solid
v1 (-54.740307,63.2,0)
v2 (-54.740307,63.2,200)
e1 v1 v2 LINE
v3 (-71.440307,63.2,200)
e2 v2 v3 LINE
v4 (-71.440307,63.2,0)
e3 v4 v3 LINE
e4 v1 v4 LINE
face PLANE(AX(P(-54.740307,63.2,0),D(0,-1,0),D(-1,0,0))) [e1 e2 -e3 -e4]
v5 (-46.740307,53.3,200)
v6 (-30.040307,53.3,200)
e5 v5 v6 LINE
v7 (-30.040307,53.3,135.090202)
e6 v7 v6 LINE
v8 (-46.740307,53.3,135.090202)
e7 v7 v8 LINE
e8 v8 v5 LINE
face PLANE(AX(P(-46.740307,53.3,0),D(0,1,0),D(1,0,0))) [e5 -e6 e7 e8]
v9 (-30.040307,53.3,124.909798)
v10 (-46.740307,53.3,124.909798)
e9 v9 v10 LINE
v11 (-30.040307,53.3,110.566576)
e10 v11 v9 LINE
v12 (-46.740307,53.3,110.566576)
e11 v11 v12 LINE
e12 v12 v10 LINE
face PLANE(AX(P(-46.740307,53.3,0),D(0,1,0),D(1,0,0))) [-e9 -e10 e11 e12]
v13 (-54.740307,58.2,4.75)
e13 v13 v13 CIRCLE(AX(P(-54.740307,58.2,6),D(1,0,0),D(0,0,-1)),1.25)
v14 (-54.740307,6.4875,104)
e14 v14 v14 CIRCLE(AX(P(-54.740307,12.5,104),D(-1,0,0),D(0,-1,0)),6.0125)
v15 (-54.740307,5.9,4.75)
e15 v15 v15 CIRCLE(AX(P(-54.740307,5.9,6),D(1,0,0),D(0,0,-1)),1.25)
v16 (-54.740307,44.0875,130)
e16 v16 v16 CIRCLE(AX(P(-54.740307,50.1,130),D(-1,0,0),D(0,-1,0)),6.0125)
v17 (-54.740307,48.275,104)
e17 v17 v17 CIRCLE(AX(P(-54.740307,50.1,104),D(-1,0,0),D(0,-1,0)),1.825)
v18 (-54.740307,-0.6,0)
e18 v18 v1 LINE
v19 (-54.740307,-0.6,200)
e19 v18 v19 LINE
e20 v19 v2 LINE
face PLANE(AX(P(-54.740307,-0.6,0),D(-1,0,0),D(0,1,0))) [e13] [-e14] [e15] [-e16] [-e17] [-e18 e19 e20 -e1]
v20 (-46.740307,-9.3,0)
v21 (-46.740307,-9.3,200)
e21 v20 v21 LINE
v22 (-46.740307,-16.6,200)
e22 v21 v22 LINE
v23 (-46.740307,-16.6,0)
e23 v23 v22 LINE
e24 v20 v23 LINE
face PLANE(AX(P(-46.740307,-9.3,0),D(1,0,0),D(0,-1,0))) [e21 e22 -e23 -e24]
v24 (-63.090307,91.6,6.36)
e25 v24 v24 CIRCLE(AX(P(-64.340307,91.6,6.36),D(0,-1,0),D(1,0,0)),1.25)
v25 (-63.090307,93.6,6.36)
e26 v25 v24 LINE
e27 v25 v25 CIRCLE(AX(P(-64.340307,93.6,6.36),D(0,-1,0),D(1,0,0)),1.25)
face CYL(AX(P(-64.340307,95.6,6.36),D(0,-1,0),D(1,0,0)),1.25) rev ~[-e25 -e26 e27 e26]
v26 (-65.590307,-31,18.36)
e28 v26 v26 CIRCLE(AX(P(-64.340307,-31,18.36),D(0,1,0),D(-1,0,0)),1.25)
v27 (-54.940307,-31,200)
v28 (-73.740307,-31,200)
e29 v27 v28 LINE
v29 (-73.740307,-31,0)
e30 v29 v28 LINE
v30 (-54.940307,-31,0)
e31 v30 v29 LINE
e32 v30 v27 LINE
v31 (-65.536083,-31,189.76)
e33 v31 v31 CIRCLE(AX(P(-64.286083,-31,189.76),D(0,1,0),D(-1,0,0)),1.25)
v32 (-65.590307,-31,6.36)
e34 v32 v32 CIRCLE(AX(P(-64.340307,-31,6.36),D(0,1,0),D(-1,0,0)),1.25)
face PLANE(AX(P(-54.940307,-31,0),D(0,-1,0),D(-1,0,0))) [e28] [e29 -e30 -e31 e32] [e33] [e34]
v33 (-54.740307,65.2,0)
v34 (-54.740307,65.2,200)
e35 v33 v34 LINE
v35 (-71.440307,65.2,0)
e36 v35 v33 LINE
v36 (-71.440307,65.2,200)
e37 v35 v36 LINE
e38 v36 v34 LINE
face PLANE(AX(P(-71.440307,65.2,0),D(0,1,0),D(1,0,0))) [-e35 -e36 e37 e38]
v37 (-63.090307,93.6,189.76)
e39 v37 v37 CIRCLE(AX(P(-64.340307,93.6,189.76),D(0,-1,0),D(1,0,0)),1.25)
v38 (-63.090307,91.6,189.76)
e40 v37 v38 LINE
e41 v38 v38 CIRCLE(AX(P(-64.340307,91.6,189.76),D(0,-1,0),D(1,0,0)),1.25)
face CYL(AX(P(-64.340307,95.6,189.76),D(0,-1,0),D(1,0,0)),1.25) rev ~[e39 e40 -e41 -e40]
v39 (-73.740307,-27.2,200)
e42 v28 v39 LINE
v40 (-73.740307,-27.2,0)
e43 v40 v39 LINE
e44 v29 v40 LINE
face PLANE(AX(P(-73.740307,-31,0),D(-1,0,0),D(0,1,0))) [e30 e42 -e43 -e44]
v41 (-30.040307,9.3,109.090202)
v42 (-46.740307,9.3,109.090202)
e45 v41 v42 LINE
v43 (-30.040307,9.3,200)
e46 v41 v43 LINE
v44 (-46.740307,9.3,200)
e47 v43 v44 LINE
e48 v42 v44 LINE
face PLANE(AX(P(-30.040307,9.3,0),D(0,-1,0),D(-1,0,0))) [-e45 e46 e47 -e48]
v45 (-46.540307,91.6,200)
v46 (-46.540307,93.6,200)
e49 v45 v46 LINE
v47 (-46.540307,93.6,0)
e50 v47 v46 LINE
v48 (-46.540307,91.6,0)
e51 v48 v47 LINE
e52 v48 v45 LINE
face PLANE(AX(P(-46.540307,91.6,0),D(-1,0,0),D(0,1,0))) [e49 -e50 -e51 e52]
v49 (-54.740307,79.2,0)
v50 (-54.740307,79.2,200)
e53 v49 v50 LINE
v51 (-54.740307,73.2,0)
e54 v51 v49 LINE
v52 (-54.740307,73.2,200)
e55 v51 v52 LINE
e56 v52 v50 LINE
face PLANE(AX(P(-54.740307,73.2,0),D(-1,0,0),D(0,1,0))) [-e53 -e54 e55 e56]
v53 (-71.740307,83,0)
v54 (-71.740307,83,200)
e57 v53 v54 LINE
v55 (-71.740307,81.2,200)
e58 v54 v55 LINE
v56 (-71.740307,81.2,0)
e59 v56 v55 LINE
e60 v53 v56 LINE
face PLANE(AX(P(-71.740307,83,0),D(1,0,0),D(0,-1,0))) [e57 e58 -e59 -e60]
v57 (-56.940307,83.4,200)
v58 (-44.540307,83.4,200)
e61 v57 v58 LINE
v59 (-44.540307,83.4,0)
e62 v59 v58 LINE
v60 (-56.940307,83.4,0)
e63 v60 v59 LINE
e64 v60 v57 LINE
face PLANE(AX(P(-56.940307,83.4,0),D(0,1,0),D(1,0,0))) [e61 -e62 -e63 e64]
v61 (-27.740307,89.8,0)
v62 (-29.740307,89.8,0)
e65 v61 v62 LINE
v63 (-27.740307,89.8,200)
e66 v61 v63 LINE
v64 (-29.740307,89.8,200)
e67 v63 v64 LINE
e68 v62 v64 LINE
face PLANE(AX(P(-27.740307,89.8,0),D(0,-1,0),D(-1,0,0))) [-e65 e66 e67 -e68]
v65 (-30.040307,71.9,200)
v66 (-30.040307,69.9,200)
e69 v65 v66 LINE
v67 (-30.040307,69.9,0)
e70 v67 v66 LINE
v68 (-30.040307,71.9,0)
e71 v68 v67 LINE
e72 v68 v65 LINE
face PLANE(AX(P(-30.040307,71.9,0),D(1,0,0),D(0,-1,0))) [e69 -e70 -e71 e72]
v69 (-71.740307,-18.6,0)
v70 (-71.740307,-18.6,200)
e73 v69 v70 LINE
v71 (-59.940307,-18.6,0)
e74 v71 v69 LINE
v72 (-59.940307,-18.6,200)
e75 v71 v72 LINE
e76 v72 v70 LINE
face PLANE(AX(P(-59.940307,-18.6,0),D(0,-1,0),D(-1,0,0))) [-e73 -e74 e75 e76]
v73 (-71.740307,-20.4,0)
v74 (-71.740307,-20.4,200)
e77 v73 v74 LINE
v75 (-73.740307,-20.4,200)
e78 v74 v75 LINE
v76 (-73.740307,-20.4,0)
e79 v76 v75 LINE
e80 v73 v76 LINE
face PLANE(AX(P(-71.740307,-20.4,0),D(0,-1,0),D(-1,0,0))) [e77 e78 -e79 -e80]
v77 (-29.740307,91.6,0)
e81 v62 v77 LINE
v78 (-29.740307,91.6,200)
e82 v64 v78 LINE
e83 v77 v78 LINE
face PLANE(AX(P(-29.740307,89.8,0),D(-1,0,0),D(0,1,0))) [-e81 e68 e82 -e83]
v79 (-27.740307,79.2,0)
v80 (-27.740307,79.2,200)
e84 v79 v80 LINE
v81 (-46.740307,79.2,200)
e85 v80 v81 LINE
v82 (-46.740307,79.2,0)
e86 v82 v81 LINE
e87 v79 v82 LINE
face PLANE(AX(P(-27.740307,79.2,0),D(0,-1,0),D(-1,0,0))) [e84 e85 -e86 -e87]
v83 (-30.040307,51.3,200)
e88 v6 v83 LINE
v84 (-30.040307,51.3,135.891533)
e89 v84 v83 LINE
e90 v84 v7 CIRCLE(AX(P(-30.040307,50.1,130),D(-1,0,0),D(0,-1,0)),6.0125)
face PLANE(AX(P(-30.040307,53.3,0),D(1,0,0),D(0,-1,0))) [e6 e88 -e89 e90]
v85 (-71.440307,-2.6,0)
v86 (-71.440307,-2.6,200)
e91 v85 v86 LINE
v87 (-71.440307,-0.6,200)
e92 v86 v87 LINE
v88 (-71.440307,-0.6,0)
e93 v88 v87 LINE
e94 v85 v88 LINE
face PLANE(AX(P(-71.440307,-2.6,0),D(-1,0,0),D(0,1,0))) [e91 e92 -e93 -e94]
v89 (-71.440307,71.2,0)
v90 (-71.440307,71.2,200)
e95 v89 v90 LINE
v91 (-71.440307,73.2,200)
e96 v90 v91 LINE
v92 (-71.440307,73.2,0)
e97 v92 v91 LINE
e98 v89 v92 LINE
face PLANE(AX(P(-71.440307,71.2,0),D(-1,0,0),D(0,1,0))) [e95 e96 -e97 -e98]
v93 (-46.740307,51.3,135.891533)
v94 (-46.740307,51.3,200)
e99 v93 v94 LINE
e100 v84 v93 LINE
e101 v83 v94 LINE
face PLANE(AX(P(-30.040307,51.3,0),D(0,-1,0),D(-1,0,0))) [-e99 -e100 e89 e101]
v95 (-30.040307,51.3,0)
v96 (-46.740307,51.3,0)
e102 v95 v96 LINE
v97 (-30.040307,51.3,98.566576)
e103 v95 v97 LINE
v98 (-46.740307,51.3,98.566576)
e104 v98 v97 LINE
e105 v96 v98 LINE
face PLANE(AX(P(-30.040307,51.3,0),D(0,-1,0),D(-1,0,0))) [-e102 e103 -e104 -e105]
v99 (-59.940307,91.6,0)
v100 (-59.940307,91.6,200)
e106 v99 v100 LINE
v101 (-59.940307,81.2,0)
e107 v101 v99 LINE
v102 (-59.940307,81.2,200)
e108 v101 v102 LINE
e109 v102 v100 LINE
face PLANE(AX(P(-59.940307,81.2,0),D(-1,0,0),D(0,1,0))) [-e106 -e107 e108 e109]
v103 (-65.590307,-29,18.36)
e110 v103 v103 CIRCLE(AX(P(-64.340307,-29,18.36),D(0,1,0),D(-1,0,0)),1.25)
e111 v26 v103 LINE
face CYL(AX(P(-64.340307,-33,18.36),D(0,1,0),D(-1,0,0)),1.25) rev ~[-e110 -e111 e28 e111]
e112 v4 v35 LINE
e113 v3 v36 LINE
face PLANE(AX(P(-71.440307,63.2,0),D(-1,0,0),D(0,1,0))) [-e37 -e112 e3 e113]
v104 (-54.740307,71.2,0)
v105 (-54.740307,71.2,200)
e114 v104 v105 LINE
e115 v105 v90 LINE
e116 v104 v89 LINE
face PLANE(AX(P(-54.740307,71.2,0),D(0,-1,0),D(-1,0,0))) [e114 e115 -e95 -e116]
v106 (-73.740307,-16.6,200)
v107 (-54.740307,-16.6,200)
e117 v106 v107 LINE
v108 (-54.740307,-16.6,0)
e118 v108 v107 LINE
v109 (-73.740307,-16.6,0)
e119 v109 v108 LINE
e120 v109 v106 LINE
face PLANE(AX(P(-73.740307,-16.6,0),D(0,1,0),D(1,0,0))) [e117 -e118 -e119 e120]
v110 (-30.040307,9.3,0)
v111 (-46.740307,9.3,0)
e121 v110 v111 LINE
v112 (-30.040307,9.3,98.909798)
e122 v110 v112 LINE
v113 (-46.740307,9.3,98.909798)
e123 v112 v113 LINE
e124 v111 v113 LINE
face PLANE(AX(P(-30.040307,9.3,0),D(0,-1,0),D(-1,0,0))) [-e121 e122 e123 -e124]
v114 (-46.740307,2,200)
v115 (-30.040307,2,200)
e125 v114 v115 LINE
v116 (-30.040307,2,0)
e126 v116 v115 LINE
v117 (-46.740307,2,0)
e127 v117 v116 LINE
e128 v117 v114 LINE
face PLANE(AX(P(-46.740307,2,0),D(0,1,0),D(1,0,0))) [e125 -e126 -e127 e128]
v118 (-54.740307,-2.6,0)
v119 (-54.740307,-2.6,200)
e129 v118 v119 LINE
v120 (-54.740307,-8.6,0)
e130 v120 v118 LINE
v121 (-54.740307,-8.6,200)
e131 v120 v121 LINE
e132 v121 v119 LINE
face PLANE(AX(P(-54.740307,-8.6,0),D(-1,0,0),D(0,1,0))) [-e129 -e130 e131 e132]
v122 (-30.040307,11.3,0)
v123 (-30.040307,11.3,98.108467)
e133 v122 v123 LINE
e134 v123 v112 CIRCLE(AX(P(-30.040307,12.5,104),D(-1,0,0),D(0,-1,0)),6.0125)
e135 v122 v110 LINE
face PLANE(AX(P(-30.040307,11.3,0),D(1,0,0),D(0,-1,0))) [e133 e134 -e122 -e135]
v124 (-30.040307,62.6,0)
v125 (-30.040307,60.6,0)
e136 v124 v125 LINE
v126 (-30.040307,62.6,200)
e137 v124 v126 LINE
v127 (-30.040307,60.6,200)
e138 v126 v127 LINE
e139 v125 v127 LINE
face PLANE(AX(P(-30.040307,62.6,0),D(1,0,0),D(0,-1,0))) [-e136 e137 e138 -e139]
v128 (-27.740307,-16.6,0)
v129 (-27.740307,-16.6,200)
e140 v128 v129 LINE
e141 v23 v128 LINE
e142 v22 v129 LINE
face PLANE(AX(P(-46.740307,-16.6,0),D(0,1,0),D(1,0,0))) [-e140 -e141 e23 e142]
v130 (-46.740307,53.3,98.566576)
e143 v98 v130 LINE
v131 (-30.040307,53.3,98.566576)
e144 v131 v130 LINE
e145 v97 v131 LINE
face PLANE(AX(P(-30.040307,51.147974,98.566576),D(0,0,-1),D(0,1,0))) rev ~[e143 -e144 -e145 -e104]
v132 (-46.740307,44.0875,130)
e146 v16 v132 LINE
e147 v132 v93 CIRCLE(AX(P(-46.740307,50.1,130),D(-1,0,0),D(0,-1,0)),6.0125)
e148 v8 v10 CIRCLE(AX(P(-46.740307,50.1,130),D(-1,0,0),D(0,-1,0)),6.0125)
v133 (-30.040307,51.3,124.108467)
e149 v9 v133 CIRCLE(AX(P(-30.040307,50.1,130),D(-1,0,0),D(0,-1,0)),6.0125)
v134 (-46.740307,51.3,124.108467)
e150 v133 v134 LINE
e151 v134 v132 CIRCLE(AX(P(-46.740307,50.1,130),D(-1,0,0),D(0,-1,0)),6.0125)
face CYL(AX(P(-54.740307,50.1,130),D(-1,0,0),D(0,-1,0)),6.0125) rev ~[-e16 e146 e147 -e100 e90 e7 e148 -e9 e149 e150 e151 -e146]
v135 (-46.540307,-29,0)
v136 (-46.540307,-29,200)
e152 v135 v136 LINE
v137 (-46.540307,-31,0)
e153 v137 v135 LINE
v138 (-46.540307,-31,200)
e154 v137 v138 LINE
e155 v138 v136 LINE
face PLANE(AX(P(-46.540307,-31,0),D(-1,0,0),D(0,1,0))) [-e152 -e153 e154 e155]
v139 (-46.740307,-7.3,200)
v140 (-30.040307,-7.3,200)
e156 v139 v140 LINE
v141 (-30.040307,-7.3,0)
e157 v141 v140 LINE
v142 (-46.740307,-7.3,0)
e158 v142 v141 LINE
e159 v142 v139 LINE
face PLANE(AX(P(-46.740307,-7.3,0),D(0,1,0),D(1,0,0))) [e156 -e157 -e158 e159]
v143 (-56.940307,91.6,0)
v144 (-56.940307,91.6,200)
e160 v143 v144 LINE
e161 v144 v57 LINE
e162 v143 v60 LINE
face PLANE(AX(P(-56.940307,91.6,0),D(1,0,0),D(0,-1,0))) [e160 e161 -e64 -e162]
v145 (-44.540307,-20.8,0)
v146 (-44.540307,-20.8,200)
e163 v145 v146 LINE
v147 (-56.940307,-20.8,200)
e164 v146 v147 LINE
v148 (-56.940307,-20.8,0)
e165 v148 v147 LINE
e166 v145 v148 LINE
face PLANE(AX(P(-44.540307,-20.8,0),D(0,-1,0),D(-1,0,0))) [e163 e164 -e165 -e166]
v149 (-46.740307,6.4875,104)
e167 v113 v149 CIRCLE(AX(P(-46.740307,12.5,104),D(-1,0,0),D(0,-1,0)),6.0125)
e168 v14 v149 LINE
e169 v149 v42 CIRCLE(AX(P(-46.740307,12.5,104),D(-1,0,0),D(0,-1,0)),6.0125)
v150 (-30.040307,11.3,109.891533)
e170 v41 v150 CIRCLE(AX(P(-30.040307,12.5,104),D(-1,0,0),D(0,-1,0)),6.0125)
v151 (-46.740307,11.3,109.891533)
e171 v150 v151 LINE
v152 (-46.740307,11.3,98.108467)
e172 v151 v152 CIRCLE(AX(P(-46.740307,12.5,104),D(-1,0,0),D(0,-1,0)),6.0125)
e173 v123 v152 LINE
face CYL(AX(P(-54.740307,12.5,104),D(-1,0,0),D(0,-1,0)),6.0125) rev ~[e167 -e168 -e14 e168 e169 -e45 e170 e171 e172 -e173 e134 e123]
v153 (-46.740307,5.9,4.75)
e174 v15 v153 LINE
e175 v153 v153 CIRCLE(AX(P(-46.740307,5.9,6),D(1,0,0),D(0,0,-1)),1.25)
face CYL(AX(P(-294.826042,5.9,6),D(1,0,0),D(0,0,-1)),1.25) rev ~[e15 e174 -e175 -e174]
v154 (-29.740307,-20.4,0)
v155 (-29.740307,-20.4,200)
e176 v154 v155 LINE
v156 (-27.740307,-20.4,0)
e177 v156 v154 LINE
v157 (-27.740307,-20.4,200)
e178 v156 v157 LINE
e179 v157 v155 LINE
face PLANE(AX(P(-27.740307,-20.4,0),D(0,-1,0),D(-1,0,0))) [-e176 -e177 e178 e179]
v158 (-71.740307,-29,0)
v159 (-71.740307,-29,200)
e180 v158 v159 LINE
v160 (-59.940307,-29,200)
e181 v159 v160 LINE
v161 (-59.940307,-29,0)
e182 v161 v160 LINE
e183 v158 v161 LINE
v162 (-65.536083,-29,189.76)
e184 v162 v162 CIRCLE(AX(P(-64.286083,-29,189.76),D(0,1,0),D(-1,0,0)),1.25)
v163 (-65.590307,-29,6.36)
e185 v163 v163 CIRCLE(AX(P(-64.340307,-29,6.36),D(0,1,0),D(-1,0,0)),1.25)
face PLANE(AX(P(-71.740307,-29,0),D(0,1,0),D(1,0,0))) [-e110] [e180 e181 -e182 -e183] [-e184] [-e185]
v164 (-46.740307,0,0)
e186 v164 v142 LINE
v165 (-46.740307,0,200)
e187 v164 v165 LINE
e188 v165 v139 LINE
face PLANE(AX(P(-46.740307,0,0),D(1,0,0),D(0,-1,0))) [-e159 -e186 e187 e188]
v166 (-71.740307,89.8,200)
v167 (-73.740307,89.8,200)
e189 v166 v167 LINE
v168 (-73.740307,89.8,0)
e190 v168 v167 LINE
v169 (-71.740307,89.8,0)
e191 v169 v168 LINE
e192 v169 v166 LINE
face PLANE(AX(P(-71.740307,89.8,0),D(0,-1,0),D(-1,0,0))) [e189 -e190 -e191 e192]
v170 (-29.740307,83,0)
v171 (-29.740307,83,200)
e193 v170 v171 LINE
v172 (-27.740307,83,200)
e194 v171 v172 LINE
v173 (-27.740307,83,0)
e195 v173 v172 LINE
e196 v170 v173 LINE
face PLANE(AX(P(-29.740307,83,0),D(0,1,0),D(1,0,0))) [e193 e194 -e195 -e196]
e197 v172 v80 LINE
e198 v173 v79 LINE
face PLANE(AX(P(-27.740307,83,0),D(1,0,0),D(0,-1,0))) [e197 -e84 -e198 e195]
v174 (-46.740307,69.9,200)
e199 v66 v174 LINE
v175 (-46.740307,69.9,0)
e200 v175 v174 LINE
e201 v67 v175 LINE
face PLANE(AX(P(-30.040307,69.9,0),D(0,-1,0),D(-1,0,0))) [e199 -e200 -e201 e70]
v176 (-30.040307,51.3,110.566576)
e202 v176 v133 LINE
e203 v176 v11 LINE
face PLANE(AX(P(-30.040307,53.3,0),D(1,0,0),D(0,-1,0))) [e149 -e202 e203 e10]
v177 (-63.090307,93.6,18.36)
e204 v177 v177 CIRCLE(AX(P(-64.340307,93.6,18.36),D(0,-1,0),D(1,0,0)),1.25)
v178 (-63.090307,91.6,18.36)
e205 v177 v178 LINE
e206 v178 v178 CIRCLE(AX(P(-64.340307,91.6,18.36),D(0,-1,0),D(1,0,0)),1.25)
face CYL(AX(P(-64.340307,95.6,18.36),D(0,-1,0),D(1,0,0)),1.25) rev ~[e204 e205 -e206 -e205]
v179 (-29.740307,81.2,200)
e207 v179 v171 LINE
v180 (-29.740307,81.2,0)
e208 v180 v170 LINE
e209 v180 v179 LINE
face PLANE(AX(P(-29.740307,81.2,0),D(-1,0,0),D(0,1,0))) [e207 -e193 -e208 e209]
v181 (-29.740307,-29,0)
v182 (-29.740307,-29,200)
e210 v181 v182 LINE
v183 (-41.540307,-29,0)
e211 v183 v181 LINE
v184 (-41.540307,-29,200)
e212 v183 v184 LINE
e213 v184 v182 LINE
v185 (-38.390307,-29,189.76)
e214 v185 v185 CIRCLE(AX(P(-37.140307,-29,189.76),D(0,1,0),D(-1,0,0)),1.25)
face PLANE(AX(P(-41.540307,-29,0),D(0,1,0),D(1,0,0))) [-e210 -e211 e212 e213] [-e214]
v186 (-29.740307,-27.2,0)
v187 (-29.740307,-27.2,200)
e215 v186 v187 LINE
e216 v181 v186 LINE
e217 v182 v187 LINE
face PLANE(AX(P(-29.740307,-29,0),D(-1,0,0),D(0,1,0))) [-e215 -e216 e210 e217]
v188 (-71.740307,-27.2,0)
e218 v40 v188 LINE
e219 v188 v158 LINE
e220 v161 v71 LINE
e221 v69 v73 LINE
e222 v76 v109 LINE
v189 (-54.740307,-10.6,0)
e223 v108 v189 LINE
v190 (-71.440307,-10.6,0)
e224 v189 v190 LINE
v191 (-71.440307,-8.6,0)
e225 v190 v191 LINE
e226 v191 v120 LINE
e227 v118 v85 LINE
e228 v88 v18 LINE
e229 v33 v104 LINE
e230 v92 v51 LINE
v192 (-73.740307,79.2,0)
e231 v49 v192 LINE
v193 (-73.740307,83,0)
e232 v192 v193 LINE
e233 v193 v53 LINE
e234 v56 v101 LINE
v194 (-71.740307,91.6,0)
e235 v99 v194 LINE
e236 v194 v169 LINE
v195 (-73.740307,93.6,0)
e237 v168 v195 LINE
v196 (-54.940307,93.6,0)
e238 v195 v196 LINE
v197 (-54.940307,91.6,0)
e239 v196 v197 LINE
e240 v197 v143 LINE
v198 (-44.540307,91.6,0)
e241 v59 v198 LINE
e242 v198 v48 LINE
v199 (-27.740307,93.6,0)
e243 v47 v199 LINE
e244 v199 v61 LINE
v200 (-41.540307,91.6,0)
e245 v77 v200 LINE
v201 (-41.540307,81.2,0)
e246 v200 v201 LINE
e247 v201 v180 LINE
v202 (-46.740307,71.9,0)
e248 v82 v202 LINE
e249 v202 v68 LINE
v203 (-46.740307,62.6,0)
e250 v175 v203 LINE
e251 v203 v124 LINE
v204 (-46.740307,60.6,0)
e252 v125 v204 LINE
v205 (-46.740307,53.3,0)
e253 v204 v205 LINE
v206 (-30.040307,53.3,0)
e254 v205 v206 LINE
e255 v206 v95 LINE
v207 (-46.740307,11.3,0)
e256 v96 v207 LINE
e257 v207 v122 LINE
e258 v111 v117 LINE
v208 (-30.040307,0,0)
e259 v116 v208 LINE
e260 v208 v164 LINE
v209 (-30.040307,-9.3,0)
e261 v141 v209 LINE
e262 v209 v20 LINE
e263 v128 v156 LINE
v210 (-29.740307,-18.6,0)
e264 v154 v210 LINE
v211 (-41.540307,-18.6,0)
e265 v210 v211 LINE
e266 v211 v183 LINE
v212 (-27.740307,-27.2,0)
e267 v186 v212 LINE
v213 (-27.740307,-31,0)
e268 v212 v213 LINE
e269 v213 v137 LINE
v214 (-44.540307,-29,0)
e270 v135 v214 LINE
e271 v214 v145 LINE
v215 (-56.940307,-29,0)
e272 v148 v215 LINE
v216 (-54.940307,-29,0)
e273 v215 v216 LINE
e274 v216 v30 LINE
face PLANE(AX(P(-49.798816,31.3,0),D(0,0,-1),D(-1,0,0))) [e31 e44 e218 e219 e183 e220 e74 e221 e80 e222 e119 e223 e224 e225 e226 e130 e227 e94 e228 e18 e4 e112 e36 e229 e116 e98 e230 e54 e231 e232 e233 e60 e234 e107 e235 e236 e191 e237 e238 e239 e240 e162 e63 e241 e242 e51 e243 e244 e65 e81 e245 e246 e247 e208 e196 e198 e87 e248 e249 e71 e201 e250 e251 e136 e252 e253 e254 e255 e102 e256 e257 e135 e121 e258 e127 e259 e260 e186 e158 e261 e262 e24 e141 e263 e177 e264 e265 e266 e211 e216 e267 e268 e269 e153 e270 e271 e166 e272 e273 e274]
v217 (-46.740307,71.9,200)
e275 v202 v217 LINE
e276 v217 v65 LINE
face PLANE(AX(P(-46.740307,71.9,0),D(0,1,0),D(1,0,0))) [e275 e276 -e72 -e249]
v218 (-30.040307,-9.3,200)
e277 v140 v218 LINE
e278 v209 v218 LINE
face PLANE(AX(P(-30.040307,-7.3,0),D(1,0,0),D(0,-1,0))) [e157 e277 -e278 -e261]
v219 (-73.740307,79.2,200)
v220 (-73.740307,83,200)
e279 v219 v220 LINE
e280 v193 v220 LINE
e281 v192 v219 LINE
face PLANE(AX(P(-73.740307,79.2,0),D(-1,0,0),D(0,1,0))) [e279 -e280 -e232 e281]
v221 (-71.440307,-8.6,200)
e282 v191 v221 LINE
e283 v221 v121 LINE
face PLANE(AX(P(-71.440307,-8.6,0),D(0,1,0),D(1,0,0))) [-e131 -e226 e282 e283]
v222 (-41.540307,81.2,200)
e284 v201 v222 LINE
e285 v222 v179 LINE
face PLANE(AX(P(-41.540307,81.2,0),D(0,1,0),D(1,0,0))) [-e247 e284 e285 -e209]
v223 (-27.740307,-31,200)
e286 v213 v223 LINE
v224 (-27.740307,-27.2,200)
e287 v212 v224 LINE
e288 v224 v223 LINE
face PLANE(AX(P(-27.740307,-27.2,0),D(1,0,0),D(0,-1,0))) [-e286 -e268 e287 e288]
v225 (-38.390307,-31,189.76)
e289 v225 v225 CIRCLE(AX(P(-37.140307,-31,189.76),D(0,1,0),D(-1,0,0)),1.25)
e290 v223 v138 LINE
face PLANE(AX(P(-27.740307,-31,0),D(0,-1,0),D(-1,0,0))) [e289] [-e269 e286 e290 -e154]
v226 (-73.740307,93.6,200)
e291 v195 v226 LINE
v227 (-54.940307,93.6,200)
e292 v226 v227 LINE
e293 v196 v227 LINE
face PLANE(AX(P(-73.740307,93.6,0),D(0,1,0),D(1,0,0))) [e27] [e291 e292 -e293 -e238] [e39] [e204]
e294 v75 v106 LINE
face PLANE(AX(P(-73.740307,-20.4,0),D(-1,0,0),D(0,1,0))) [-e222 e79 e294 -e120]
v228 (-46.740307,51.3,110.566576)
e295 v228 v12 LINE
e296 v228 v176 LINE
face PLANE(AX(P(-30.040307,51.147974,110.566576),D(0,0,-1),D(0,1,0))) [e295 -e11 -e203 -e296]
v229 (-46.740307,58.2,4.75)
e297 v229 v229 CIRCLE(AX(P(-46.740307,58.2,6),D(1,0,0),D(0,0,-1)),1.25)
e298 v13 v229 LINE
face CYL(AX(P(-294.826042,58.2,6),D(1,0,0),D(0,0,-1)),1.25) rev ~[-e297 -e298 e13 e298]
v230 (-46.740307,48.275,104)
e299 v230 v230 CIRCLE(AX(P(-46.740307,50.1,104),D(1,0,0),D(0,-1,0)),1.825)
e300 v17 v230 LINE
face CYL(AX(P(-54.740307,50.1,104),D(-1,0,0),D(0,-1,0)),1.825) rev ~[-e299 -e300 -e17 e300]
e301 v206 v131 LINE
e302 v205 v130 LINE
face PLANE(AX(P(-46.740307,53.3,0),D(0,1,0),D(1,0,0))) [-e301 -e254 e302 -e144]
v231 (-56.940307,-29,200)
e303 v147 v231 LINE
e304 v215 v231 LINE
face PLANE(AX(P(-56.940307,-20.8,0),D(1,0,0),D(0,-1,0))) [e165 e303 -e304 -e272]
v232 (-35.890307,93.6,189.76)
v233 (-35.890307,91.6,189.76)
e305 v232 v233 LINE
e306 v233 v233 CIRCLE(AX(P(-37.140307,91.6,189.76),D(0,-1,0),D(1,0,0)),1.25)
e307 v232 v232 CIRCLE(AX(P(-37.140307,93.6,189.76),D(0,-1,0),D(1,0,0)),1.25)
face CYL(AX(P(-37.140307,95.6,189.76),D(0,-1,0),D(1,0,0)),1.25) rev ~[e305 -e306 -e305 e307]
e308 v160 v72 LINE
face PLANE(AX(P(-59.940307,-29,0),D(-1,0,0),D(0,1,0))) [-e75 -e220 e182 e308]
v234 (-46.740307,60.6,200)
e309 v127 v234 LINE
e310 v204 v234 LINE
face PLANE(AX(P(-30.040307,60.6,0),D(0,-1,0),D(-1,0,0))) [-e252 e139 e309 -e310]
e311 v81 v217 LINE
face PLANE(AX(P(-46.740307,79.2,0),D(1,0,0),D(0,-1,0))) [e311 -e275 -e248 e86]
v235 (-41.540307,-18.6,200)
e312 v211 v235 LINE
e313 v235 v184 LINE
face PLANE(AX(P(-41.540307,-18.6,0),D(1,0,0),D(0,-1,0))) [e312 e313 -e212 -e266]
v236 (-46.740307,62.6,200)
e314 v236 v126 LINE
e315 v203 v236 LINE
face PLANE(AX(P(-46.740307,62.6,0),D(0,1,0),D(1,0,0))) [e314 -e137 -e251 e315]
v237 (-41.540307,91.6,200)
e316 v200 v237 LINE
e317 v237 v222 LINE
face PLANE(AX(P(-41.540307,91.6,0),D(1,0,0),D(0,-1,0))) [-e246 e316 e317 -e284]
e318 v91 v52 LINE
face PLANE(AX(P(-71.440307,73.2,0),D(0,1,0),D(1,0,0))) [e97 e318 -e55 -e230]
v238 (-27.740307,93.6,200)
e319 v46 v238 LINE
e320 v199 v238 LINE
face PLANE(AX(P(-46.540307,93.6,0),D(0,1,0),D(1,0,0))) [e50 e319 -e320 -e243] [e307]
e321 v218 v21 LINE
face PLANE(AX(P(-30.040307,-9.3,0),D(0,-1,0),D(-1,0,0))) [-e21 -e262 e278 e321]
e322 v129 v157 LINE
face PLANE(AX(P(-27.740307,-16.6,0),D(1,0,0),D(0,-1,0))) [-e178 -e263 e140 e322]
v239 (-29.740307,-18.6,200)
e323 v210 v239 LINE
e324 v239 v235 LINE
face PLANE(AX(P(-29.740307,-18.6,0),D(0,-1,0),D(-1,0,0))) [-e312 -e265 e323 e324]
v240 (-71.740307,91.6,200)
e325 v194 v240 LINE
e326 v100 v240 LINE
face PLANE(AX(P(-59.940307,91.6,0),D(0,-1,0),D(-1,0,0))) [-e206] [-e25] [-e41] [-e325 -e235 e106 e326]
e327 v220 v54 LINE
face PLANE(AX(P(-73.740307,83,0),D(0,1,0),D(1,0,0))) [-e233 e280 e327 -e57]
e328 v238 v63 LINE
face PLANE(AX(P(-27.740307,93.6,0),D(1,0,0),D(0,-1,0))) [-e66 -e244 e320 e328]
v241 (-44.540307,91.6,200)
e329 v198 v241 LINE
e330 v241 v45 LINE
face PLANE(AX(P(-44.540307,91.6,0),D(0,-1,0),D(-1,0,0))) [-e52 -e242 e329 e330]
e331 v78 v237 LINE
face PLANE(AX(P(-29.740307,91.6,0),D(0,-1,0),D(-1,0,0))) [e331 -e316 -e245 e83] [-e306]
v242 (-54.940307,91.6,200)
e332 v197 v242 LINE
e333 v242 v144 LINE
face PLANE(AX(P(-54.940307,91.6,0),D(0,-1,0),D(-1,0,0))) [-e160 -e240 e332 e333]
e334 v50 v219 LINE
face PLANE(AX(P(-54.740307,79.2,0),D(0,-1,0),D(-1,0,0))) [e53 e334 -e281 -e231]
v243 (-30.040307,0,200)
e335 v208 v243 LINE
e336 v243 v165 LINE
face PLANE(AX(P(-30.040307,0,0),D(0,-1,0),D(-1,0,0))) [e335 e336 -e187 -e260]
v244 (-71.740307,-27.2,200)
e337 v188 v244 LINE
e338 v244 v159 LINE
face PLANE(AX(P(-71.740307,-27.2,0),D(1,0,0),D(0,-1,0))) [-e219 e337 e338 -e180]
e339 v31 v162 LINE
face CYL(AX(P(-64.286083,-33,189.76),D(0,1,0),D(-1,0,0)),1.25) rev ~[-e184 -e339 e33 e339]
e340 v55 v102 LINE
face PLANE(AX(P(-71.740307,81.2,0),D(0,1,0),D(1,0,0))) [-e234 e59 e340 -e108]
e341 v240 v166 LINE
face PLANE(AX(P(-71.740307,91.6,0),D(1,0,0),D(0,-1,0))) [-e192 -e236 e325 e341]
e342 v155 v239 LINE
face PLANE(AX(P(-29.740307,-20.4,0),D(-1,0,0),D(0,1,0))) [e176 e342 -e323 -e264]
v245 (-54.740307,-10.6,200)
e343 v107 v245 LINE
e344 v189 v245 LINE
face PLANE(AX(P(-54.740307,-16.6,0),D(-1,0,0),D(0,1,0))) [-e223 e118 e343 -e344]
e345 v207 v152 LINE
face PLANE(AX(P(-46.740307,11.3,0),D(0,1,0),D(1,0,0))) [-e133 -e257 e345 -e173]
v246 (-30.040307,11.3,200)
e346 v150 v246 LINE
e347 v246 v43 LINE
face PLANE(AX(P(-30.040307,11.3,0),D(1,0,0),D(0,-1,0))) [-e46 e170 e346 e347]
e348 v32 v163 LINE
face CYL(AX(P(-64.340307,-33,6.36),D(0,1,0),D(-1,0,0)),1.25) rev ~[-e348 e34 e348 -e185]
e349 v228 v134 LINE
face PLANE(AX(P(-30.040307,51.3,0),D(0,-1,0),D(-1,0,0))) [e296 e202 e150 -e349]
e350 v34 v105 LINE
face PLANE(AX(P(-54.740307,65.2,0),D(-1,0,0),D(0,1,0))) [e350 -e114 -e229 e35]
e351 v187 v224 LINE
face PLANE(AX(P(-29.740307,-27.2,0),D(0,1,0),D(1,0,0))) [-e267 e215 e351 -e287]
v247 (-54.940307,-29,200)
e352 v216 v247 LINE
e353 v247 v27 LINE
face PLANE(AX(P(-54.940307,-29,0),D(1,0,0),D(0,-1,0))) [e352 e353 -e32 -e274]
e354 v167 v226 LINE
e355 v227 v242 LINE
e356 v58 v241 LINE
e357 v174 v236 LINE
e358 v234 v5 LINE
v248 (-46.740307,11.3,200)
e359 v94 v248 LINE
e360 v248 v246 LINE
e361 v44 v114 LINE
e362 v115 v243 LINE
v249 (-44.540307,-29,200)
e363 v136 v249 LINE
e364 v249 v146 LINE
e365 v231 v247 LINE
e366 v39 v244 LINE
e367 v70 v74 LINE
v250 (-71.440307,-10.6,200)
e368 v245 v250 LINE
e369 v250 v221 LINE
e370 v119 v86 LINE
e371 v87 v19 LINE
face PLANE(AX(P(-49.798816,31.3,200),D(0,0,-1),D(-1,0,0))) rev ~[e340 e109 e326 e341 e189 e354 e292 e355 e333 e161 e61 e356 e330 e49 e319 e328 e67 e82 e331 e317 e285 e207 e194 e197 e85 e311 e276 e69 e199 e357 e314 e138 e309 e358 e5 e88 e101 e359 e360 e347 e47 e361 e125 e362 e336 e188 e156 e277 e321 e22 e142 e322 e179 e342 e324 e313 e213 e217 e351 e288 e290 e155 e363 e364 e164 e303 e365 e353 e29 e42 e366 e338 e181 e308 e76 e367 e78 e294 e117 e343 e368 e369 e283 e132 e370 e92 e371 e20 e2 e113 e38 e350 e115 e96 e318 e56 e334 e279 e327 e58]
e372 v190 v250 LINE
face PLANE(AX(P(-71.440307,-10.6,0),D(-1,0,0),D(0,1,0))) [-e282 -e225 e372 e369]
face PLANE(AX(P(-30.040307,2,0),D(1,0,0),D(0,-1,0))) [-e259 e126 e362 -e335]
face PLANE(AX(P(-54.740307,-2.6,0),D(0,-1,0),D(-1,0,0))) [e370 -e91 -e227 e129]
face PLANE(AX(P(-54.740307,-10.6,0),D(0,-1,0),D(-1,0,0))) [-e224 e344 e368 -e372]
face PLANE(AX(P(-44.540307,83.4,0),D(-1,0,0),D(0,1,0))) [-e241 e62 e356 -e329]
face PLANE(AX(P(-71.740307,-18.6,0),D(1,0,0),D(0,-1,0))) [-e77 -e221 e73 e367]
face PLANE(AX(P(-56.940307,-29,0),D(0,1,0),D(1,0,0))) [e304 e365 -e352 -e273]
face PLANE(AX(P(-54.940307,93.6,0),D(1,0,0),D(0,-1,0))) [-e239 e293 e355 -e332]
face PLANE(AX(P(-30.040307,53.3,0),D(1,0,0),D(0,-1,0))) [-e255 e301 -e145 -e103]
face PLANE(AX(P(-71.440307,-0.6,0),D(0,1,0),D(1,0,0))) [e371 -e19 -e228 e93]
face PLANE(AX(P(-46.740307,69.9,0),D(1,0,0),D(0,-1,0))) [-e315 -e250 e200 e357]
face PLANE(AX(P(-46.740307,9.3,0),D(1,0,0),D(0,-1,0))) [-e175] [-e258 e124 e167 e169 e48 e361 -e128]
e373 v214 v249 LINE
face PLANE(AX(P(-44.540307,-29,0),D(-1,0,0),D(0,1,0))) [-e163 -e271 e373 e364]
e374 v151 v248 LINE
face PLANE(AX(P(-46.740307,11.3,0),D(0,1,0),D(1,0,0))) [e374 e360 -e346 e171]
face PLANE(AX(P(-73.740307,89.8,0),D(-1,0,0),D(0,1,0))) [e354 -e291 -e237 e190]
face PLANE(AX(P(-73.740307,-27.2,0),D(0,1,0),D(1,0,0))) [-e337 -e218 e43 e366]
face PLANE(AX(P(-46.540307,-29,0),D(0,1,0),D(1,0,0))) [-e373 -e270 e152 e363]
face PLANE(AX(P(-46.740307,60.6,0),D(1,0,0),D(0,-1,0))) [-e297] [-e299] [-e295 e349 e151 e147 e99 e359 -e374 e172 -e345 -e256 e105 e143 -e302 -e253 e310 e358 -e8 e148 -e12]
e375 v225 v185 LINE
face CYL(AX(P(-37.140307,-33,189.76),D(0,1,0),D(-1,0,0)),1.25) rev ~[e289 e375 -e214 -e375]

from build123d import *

# Parameters (mm, degrees)
RESSALTO_EXTRUS_O1_DEPTH                     = 200
CORTE_EXTRUS_O3_REACH                        = 224.463
ESBO_O4_R                                    = 1.825
CORTE_EXTRUS_O5_REACH                        = 224.463
ESBO_O6_R                                    = 6.0125
BROCA_DE_ROSQUEAR_PARA_TARRAXA_DE_M3X0_5_D   = 2.5
ESBO_O15_W                                   = 12
ESBO_O15_H                                   = 2.152025528
CORTE_EXTRUS_O7_DEPTH                        = 16.7
CORTE_EXTRUS_O8_REACH                        = 224.463
ESBO_O5_R                                    = 6.0125
BROCA_DE_ROSQUEAR_PARA_TARRAXA_DE_M3_2_D     = 2.5
BROCA_DE_ROSQUEAR_PARA_TARRAXA_DE_M3_2_DEPTH = 2
BROCA_DE_ROSQUEAR_PARA_TARRAXA_DE_M3_3_D     = 2.5
BROCA_DE_ROSQUEAR_PARA_TARRAXA_DE_M3_3_DEPTH = 2
BROCA_DE_ROSQUEAR_PARA_TARRAXA_DE_M3_4_D     = 2.5
BROCA_DE_ROSQUEAR_PARA_TARRAXA_DE_M3_4_DEPTH = 2
BROCA_DE_ROSQUEAR_PARA_TARRAXA_DE_M3_5_D     = 2.5
BROCA_DE_ROSQUEAR_PARA_TARRAXA_DE_M3_5_DEPTH = 2


with BuildPart() as part:
    # Esboço1 → Ressalto-extrusão1 (new body)
    with BuildSketch(Plane.XY):
        Polygon((-54.740307174, -0.6), (-54.740307174, 63.2), (-71.440307174, 63.2), (-71.440307174, 65.2), (-54.740307174, 65.2), (-54.740307174, 71.2), (-71.440307174, 71.2), (-71.440307174, 73.2), (-54.740307174, 73.2), (-54.740307174, 79.2), (-73.740307174, 79.2), (-73.740307174, 83), (-71.740307174, 83), (-71.740307174, 81.2), (-59.940307174, 81.2), (-59.940307174, 91.6), (-71.740307174, 91.6), (-71.740307174, 89.8), (-73.740307174, 89.8), (-73.740307174, 93.6), (-54.940307174, 93.6), (-54.940307174, 91.6), (-56.940307174, 91.6), (-56.940307174, 83.4), (-44.540307174, 83.4), (-44.540307174, 91.6), (-46.540307174, 91.6), (-46.540307174, 93.6), (-27.740307174, 93.6), (-27.740307174, 89.8), (-29.740307174, 89.8), (-29.740307174, 91.6), (-41.540307174, 91.6), (-41.540307174, 81.2), (-29.740307174, 81.2), (-29.740307174, 83), (-27.740307174, 83), (-27.740307174, 79.2), (-46.740307174, 79.2), (-46.740307174, 71.9), (-30.040307174, 71.9), (-30.040307174, 69.9), (-46.740307174, 69.9), (-46.740307174, 62.6), (-30.040307174, 62.6), (-30.040307174, 60.6), (-46.740307174, 60.6), (-46.740307174, 53.3), (-30.040307174, 53.3), (-30.040307174, 51.3), (-46.740307174, 51.3), (-46.740307174, 11.3), (-30.040307174, 11.3), (-30.040307174, 9.3), (-46.740307174, 9.3), (-46.740307174, 2), (-30.040307174, 2), (-30.040307174, 0), (-46.740307174, 0), (-46.740307174, -7.3), (-30.040307174, -7.3), (-30.040307174, -9.3), (-46.740307174, -9.3), (-46.740307174, -16.6), (-27.740307174, -16.6), (-27.740307174, -20.4), (-29.740307174, -20.4), (-29.740307174, -18.6), (-41.540307174, -18.6), (-41.540307174, -29), (-29.740307174, -29), (-29.740307174, -27.2), (-27.740307174, -27.2), (-27.740307174, -31), (-46.540307174, -31), (-46.540307174, -29), (-44.540307174, -29), (-44.540307174, -20.8), (-56.940307174, -20.8), (-56.940307174, -29), (-54.940307174, -29), (-54.940307174, -31), (-73.740307174, -31), (-73.740307174, -27.2), (-71.740307174, -27.2), (-71.740307174, -29), (-59.940307174, -29), (-59.940307174, -18.6), (-71.740307174, -18.6), (-71.740307174, -20.4), (-73.740307174, -20.4), (-73.740307174, -16.6), (-54.740307174, -16.6), (-54.740307174, -10.6), (-71.440307174, -10.6), (-71.440307174, -8.6), (-54.740307174, -8.6), (-54.740307174, -2.6), (-71.440307174, -2.6), (-71.440307174, -0.6), align=None)
    extrude(amount=RESSALTO_EXTRUS_O1_DEPTH)

    # Esboço4 → Corte-extrusão3 (cut, up to next)
    with BuildSketch(Plane.ZY.offset(54.740307174), mode=Mode.PRIVATE) as corte_extrus_o3_sk1:
        with Locations(Location((104, 50.1, 0), (0, 0, 270))):
            Circle(ESBO_O4_R)
    corte_extrus_o3_tool1 = extrude(corte_extrus_o3_sk1.sketch, amount=-CORTE_EXTRUS_O3_REACH, mode=Mode.PRIVATE) & part.part
    add(corte_extrus_o3_tool1.solids().sort_by_distance((-54.740307, 50.1, 104))[0], mode=Mode.SUBTRACT)

    # Esboço6 → Corte-extrusão5 (cut, up to next)
    with BuildSketch(Plane.ZY.offset(54.740307174), mode=Mode.PRIVATE) as corte_extrus_o5_sk1:
        with Locations(Location((104, 12.5, 0), (0, 0, 270))):
            Circle(ESBO_O6_R)
    corte_extrus_o5_tool1 = extrude(corte_extrus_o5_sk1.sketch, amount=-CORTE_EXTRUS_O5_REACH, mode=Mode.PRIVATE) & part.part
    add(corte_extrus_o5_tool1.solids().sort_by_distance((-54.740307, 12.5, 104))[0], mode=Mode.SUBTRACT)

    # Broca de rosquear para tarraxa de M3x0.5 (through all)
    with Locations(Plane.ZY.offset(54.740307174)):
        with Locations((6, 5.9), (6, 58.2)):
            Hole(BROCA_DE_ROSQUEAR_PARA_TARRAXA_DE_M3X0_5_D / 2)

    # Esboço15 → Corte-extrusão7 (cut)
    with BuildSketch(Plane(origin=(-30.040307174, 0, 0), x_dir=(0, 0, -1), z_dir=(1, 0, 0))):
        with Locations((-104.566575702, 52.223987236)):
            Rectangle(ESBO_O15_W, ESBO_O15_H)
    extrude(amount=-CORTE_EXTRUS_O7_DEPTH, mode=Mode.SUBTRACT)

    # Esboço5 → Corte-extrusão8 (cut, up to next)
    with BuildSketch(Plane.ZY.offset(54.740307174), mode=Mode.PRIVATE) as corte_extrus_o8_sk1:
        with Locations(Location((130, 50.1, 0), (0, 0, 270))):
            Circle(ESBO_O5_R)
    corte_extrus_o8_tool1 = extrude(corte_extrus_o8_sk1.sketch, amount=-CORTE_EXTRUS_O8_REACH, mode=Mode.PRIVATE) & part.part
    add(corte_extrus_o8_tool1.solids().sort_by_distance((-54.740307, 50.1, 130))[0], mode=Mode.SUBTRACT)

    # Broca de rosquear para tarraxa de M3 2
    with Locations(Plane.XZ.offset(31)):
        with Locations((-64.286083069, 189.76), (-37.140307173, 189.76)):
            Hole(BROCA_DE_ROSQUEAR_PARA_TARRAXA_DE_M3_2_D / 2, depth=BROCA_DE_ROSQUEAR_PARA_TARRAXA_DE_M3_2_DEPTH)

    # Broca de rosquear para tarraxa de M3 3
    with Locations(Plane(origin=(0, 93.6, 0), x_dir=(-1, 0, 0), z_dir=(0, 1, 0))):
        with Locations((37.140307173, 189.76), (64.340307173, 189.76)):
            Hole(BROCA_DE_ROSQUEAR_PARA_TARRAXA_DE_M3_3_D / 2, depth=BROCA_DE_ROSQUEAR_PARA_TARRAXA_DE_M3_3_DEPTH)

    # Broca de rosquear para tarraxa de M3 4
    with Locations(Plane.XZ.offset(31)):
        with Locations((-64.340307174, 18.36), (-64.340307174, 6.36)):
            Hole(BROCA_DE_ROSQUEAR_PARA_TARRAXA_DE_M3_4_D / 2, depth=BROCA_DE_ROSQUEAR_PARA_TARRAXA_DE_M3_4_DEPTH)

    # Broca de rosquear para tarraxa de M3 5
    with Locations(Plane(origin=(0, 93.6, 0), x_dir=(-1, 0, 0), z_dir=(0, 1, 0))):
        with Locations((64.340307174, 18.36), (64.340307174, 6.36)):
            Hole(BROCA_DE_ROSQUEAR_PARA_TARRAXA_DE_M3_5_D / 2, depth=BROCA_DE_ROSQUEAR_PARA_TARRAXA_DE_M3_5_DEPTH)


solid = part.part
